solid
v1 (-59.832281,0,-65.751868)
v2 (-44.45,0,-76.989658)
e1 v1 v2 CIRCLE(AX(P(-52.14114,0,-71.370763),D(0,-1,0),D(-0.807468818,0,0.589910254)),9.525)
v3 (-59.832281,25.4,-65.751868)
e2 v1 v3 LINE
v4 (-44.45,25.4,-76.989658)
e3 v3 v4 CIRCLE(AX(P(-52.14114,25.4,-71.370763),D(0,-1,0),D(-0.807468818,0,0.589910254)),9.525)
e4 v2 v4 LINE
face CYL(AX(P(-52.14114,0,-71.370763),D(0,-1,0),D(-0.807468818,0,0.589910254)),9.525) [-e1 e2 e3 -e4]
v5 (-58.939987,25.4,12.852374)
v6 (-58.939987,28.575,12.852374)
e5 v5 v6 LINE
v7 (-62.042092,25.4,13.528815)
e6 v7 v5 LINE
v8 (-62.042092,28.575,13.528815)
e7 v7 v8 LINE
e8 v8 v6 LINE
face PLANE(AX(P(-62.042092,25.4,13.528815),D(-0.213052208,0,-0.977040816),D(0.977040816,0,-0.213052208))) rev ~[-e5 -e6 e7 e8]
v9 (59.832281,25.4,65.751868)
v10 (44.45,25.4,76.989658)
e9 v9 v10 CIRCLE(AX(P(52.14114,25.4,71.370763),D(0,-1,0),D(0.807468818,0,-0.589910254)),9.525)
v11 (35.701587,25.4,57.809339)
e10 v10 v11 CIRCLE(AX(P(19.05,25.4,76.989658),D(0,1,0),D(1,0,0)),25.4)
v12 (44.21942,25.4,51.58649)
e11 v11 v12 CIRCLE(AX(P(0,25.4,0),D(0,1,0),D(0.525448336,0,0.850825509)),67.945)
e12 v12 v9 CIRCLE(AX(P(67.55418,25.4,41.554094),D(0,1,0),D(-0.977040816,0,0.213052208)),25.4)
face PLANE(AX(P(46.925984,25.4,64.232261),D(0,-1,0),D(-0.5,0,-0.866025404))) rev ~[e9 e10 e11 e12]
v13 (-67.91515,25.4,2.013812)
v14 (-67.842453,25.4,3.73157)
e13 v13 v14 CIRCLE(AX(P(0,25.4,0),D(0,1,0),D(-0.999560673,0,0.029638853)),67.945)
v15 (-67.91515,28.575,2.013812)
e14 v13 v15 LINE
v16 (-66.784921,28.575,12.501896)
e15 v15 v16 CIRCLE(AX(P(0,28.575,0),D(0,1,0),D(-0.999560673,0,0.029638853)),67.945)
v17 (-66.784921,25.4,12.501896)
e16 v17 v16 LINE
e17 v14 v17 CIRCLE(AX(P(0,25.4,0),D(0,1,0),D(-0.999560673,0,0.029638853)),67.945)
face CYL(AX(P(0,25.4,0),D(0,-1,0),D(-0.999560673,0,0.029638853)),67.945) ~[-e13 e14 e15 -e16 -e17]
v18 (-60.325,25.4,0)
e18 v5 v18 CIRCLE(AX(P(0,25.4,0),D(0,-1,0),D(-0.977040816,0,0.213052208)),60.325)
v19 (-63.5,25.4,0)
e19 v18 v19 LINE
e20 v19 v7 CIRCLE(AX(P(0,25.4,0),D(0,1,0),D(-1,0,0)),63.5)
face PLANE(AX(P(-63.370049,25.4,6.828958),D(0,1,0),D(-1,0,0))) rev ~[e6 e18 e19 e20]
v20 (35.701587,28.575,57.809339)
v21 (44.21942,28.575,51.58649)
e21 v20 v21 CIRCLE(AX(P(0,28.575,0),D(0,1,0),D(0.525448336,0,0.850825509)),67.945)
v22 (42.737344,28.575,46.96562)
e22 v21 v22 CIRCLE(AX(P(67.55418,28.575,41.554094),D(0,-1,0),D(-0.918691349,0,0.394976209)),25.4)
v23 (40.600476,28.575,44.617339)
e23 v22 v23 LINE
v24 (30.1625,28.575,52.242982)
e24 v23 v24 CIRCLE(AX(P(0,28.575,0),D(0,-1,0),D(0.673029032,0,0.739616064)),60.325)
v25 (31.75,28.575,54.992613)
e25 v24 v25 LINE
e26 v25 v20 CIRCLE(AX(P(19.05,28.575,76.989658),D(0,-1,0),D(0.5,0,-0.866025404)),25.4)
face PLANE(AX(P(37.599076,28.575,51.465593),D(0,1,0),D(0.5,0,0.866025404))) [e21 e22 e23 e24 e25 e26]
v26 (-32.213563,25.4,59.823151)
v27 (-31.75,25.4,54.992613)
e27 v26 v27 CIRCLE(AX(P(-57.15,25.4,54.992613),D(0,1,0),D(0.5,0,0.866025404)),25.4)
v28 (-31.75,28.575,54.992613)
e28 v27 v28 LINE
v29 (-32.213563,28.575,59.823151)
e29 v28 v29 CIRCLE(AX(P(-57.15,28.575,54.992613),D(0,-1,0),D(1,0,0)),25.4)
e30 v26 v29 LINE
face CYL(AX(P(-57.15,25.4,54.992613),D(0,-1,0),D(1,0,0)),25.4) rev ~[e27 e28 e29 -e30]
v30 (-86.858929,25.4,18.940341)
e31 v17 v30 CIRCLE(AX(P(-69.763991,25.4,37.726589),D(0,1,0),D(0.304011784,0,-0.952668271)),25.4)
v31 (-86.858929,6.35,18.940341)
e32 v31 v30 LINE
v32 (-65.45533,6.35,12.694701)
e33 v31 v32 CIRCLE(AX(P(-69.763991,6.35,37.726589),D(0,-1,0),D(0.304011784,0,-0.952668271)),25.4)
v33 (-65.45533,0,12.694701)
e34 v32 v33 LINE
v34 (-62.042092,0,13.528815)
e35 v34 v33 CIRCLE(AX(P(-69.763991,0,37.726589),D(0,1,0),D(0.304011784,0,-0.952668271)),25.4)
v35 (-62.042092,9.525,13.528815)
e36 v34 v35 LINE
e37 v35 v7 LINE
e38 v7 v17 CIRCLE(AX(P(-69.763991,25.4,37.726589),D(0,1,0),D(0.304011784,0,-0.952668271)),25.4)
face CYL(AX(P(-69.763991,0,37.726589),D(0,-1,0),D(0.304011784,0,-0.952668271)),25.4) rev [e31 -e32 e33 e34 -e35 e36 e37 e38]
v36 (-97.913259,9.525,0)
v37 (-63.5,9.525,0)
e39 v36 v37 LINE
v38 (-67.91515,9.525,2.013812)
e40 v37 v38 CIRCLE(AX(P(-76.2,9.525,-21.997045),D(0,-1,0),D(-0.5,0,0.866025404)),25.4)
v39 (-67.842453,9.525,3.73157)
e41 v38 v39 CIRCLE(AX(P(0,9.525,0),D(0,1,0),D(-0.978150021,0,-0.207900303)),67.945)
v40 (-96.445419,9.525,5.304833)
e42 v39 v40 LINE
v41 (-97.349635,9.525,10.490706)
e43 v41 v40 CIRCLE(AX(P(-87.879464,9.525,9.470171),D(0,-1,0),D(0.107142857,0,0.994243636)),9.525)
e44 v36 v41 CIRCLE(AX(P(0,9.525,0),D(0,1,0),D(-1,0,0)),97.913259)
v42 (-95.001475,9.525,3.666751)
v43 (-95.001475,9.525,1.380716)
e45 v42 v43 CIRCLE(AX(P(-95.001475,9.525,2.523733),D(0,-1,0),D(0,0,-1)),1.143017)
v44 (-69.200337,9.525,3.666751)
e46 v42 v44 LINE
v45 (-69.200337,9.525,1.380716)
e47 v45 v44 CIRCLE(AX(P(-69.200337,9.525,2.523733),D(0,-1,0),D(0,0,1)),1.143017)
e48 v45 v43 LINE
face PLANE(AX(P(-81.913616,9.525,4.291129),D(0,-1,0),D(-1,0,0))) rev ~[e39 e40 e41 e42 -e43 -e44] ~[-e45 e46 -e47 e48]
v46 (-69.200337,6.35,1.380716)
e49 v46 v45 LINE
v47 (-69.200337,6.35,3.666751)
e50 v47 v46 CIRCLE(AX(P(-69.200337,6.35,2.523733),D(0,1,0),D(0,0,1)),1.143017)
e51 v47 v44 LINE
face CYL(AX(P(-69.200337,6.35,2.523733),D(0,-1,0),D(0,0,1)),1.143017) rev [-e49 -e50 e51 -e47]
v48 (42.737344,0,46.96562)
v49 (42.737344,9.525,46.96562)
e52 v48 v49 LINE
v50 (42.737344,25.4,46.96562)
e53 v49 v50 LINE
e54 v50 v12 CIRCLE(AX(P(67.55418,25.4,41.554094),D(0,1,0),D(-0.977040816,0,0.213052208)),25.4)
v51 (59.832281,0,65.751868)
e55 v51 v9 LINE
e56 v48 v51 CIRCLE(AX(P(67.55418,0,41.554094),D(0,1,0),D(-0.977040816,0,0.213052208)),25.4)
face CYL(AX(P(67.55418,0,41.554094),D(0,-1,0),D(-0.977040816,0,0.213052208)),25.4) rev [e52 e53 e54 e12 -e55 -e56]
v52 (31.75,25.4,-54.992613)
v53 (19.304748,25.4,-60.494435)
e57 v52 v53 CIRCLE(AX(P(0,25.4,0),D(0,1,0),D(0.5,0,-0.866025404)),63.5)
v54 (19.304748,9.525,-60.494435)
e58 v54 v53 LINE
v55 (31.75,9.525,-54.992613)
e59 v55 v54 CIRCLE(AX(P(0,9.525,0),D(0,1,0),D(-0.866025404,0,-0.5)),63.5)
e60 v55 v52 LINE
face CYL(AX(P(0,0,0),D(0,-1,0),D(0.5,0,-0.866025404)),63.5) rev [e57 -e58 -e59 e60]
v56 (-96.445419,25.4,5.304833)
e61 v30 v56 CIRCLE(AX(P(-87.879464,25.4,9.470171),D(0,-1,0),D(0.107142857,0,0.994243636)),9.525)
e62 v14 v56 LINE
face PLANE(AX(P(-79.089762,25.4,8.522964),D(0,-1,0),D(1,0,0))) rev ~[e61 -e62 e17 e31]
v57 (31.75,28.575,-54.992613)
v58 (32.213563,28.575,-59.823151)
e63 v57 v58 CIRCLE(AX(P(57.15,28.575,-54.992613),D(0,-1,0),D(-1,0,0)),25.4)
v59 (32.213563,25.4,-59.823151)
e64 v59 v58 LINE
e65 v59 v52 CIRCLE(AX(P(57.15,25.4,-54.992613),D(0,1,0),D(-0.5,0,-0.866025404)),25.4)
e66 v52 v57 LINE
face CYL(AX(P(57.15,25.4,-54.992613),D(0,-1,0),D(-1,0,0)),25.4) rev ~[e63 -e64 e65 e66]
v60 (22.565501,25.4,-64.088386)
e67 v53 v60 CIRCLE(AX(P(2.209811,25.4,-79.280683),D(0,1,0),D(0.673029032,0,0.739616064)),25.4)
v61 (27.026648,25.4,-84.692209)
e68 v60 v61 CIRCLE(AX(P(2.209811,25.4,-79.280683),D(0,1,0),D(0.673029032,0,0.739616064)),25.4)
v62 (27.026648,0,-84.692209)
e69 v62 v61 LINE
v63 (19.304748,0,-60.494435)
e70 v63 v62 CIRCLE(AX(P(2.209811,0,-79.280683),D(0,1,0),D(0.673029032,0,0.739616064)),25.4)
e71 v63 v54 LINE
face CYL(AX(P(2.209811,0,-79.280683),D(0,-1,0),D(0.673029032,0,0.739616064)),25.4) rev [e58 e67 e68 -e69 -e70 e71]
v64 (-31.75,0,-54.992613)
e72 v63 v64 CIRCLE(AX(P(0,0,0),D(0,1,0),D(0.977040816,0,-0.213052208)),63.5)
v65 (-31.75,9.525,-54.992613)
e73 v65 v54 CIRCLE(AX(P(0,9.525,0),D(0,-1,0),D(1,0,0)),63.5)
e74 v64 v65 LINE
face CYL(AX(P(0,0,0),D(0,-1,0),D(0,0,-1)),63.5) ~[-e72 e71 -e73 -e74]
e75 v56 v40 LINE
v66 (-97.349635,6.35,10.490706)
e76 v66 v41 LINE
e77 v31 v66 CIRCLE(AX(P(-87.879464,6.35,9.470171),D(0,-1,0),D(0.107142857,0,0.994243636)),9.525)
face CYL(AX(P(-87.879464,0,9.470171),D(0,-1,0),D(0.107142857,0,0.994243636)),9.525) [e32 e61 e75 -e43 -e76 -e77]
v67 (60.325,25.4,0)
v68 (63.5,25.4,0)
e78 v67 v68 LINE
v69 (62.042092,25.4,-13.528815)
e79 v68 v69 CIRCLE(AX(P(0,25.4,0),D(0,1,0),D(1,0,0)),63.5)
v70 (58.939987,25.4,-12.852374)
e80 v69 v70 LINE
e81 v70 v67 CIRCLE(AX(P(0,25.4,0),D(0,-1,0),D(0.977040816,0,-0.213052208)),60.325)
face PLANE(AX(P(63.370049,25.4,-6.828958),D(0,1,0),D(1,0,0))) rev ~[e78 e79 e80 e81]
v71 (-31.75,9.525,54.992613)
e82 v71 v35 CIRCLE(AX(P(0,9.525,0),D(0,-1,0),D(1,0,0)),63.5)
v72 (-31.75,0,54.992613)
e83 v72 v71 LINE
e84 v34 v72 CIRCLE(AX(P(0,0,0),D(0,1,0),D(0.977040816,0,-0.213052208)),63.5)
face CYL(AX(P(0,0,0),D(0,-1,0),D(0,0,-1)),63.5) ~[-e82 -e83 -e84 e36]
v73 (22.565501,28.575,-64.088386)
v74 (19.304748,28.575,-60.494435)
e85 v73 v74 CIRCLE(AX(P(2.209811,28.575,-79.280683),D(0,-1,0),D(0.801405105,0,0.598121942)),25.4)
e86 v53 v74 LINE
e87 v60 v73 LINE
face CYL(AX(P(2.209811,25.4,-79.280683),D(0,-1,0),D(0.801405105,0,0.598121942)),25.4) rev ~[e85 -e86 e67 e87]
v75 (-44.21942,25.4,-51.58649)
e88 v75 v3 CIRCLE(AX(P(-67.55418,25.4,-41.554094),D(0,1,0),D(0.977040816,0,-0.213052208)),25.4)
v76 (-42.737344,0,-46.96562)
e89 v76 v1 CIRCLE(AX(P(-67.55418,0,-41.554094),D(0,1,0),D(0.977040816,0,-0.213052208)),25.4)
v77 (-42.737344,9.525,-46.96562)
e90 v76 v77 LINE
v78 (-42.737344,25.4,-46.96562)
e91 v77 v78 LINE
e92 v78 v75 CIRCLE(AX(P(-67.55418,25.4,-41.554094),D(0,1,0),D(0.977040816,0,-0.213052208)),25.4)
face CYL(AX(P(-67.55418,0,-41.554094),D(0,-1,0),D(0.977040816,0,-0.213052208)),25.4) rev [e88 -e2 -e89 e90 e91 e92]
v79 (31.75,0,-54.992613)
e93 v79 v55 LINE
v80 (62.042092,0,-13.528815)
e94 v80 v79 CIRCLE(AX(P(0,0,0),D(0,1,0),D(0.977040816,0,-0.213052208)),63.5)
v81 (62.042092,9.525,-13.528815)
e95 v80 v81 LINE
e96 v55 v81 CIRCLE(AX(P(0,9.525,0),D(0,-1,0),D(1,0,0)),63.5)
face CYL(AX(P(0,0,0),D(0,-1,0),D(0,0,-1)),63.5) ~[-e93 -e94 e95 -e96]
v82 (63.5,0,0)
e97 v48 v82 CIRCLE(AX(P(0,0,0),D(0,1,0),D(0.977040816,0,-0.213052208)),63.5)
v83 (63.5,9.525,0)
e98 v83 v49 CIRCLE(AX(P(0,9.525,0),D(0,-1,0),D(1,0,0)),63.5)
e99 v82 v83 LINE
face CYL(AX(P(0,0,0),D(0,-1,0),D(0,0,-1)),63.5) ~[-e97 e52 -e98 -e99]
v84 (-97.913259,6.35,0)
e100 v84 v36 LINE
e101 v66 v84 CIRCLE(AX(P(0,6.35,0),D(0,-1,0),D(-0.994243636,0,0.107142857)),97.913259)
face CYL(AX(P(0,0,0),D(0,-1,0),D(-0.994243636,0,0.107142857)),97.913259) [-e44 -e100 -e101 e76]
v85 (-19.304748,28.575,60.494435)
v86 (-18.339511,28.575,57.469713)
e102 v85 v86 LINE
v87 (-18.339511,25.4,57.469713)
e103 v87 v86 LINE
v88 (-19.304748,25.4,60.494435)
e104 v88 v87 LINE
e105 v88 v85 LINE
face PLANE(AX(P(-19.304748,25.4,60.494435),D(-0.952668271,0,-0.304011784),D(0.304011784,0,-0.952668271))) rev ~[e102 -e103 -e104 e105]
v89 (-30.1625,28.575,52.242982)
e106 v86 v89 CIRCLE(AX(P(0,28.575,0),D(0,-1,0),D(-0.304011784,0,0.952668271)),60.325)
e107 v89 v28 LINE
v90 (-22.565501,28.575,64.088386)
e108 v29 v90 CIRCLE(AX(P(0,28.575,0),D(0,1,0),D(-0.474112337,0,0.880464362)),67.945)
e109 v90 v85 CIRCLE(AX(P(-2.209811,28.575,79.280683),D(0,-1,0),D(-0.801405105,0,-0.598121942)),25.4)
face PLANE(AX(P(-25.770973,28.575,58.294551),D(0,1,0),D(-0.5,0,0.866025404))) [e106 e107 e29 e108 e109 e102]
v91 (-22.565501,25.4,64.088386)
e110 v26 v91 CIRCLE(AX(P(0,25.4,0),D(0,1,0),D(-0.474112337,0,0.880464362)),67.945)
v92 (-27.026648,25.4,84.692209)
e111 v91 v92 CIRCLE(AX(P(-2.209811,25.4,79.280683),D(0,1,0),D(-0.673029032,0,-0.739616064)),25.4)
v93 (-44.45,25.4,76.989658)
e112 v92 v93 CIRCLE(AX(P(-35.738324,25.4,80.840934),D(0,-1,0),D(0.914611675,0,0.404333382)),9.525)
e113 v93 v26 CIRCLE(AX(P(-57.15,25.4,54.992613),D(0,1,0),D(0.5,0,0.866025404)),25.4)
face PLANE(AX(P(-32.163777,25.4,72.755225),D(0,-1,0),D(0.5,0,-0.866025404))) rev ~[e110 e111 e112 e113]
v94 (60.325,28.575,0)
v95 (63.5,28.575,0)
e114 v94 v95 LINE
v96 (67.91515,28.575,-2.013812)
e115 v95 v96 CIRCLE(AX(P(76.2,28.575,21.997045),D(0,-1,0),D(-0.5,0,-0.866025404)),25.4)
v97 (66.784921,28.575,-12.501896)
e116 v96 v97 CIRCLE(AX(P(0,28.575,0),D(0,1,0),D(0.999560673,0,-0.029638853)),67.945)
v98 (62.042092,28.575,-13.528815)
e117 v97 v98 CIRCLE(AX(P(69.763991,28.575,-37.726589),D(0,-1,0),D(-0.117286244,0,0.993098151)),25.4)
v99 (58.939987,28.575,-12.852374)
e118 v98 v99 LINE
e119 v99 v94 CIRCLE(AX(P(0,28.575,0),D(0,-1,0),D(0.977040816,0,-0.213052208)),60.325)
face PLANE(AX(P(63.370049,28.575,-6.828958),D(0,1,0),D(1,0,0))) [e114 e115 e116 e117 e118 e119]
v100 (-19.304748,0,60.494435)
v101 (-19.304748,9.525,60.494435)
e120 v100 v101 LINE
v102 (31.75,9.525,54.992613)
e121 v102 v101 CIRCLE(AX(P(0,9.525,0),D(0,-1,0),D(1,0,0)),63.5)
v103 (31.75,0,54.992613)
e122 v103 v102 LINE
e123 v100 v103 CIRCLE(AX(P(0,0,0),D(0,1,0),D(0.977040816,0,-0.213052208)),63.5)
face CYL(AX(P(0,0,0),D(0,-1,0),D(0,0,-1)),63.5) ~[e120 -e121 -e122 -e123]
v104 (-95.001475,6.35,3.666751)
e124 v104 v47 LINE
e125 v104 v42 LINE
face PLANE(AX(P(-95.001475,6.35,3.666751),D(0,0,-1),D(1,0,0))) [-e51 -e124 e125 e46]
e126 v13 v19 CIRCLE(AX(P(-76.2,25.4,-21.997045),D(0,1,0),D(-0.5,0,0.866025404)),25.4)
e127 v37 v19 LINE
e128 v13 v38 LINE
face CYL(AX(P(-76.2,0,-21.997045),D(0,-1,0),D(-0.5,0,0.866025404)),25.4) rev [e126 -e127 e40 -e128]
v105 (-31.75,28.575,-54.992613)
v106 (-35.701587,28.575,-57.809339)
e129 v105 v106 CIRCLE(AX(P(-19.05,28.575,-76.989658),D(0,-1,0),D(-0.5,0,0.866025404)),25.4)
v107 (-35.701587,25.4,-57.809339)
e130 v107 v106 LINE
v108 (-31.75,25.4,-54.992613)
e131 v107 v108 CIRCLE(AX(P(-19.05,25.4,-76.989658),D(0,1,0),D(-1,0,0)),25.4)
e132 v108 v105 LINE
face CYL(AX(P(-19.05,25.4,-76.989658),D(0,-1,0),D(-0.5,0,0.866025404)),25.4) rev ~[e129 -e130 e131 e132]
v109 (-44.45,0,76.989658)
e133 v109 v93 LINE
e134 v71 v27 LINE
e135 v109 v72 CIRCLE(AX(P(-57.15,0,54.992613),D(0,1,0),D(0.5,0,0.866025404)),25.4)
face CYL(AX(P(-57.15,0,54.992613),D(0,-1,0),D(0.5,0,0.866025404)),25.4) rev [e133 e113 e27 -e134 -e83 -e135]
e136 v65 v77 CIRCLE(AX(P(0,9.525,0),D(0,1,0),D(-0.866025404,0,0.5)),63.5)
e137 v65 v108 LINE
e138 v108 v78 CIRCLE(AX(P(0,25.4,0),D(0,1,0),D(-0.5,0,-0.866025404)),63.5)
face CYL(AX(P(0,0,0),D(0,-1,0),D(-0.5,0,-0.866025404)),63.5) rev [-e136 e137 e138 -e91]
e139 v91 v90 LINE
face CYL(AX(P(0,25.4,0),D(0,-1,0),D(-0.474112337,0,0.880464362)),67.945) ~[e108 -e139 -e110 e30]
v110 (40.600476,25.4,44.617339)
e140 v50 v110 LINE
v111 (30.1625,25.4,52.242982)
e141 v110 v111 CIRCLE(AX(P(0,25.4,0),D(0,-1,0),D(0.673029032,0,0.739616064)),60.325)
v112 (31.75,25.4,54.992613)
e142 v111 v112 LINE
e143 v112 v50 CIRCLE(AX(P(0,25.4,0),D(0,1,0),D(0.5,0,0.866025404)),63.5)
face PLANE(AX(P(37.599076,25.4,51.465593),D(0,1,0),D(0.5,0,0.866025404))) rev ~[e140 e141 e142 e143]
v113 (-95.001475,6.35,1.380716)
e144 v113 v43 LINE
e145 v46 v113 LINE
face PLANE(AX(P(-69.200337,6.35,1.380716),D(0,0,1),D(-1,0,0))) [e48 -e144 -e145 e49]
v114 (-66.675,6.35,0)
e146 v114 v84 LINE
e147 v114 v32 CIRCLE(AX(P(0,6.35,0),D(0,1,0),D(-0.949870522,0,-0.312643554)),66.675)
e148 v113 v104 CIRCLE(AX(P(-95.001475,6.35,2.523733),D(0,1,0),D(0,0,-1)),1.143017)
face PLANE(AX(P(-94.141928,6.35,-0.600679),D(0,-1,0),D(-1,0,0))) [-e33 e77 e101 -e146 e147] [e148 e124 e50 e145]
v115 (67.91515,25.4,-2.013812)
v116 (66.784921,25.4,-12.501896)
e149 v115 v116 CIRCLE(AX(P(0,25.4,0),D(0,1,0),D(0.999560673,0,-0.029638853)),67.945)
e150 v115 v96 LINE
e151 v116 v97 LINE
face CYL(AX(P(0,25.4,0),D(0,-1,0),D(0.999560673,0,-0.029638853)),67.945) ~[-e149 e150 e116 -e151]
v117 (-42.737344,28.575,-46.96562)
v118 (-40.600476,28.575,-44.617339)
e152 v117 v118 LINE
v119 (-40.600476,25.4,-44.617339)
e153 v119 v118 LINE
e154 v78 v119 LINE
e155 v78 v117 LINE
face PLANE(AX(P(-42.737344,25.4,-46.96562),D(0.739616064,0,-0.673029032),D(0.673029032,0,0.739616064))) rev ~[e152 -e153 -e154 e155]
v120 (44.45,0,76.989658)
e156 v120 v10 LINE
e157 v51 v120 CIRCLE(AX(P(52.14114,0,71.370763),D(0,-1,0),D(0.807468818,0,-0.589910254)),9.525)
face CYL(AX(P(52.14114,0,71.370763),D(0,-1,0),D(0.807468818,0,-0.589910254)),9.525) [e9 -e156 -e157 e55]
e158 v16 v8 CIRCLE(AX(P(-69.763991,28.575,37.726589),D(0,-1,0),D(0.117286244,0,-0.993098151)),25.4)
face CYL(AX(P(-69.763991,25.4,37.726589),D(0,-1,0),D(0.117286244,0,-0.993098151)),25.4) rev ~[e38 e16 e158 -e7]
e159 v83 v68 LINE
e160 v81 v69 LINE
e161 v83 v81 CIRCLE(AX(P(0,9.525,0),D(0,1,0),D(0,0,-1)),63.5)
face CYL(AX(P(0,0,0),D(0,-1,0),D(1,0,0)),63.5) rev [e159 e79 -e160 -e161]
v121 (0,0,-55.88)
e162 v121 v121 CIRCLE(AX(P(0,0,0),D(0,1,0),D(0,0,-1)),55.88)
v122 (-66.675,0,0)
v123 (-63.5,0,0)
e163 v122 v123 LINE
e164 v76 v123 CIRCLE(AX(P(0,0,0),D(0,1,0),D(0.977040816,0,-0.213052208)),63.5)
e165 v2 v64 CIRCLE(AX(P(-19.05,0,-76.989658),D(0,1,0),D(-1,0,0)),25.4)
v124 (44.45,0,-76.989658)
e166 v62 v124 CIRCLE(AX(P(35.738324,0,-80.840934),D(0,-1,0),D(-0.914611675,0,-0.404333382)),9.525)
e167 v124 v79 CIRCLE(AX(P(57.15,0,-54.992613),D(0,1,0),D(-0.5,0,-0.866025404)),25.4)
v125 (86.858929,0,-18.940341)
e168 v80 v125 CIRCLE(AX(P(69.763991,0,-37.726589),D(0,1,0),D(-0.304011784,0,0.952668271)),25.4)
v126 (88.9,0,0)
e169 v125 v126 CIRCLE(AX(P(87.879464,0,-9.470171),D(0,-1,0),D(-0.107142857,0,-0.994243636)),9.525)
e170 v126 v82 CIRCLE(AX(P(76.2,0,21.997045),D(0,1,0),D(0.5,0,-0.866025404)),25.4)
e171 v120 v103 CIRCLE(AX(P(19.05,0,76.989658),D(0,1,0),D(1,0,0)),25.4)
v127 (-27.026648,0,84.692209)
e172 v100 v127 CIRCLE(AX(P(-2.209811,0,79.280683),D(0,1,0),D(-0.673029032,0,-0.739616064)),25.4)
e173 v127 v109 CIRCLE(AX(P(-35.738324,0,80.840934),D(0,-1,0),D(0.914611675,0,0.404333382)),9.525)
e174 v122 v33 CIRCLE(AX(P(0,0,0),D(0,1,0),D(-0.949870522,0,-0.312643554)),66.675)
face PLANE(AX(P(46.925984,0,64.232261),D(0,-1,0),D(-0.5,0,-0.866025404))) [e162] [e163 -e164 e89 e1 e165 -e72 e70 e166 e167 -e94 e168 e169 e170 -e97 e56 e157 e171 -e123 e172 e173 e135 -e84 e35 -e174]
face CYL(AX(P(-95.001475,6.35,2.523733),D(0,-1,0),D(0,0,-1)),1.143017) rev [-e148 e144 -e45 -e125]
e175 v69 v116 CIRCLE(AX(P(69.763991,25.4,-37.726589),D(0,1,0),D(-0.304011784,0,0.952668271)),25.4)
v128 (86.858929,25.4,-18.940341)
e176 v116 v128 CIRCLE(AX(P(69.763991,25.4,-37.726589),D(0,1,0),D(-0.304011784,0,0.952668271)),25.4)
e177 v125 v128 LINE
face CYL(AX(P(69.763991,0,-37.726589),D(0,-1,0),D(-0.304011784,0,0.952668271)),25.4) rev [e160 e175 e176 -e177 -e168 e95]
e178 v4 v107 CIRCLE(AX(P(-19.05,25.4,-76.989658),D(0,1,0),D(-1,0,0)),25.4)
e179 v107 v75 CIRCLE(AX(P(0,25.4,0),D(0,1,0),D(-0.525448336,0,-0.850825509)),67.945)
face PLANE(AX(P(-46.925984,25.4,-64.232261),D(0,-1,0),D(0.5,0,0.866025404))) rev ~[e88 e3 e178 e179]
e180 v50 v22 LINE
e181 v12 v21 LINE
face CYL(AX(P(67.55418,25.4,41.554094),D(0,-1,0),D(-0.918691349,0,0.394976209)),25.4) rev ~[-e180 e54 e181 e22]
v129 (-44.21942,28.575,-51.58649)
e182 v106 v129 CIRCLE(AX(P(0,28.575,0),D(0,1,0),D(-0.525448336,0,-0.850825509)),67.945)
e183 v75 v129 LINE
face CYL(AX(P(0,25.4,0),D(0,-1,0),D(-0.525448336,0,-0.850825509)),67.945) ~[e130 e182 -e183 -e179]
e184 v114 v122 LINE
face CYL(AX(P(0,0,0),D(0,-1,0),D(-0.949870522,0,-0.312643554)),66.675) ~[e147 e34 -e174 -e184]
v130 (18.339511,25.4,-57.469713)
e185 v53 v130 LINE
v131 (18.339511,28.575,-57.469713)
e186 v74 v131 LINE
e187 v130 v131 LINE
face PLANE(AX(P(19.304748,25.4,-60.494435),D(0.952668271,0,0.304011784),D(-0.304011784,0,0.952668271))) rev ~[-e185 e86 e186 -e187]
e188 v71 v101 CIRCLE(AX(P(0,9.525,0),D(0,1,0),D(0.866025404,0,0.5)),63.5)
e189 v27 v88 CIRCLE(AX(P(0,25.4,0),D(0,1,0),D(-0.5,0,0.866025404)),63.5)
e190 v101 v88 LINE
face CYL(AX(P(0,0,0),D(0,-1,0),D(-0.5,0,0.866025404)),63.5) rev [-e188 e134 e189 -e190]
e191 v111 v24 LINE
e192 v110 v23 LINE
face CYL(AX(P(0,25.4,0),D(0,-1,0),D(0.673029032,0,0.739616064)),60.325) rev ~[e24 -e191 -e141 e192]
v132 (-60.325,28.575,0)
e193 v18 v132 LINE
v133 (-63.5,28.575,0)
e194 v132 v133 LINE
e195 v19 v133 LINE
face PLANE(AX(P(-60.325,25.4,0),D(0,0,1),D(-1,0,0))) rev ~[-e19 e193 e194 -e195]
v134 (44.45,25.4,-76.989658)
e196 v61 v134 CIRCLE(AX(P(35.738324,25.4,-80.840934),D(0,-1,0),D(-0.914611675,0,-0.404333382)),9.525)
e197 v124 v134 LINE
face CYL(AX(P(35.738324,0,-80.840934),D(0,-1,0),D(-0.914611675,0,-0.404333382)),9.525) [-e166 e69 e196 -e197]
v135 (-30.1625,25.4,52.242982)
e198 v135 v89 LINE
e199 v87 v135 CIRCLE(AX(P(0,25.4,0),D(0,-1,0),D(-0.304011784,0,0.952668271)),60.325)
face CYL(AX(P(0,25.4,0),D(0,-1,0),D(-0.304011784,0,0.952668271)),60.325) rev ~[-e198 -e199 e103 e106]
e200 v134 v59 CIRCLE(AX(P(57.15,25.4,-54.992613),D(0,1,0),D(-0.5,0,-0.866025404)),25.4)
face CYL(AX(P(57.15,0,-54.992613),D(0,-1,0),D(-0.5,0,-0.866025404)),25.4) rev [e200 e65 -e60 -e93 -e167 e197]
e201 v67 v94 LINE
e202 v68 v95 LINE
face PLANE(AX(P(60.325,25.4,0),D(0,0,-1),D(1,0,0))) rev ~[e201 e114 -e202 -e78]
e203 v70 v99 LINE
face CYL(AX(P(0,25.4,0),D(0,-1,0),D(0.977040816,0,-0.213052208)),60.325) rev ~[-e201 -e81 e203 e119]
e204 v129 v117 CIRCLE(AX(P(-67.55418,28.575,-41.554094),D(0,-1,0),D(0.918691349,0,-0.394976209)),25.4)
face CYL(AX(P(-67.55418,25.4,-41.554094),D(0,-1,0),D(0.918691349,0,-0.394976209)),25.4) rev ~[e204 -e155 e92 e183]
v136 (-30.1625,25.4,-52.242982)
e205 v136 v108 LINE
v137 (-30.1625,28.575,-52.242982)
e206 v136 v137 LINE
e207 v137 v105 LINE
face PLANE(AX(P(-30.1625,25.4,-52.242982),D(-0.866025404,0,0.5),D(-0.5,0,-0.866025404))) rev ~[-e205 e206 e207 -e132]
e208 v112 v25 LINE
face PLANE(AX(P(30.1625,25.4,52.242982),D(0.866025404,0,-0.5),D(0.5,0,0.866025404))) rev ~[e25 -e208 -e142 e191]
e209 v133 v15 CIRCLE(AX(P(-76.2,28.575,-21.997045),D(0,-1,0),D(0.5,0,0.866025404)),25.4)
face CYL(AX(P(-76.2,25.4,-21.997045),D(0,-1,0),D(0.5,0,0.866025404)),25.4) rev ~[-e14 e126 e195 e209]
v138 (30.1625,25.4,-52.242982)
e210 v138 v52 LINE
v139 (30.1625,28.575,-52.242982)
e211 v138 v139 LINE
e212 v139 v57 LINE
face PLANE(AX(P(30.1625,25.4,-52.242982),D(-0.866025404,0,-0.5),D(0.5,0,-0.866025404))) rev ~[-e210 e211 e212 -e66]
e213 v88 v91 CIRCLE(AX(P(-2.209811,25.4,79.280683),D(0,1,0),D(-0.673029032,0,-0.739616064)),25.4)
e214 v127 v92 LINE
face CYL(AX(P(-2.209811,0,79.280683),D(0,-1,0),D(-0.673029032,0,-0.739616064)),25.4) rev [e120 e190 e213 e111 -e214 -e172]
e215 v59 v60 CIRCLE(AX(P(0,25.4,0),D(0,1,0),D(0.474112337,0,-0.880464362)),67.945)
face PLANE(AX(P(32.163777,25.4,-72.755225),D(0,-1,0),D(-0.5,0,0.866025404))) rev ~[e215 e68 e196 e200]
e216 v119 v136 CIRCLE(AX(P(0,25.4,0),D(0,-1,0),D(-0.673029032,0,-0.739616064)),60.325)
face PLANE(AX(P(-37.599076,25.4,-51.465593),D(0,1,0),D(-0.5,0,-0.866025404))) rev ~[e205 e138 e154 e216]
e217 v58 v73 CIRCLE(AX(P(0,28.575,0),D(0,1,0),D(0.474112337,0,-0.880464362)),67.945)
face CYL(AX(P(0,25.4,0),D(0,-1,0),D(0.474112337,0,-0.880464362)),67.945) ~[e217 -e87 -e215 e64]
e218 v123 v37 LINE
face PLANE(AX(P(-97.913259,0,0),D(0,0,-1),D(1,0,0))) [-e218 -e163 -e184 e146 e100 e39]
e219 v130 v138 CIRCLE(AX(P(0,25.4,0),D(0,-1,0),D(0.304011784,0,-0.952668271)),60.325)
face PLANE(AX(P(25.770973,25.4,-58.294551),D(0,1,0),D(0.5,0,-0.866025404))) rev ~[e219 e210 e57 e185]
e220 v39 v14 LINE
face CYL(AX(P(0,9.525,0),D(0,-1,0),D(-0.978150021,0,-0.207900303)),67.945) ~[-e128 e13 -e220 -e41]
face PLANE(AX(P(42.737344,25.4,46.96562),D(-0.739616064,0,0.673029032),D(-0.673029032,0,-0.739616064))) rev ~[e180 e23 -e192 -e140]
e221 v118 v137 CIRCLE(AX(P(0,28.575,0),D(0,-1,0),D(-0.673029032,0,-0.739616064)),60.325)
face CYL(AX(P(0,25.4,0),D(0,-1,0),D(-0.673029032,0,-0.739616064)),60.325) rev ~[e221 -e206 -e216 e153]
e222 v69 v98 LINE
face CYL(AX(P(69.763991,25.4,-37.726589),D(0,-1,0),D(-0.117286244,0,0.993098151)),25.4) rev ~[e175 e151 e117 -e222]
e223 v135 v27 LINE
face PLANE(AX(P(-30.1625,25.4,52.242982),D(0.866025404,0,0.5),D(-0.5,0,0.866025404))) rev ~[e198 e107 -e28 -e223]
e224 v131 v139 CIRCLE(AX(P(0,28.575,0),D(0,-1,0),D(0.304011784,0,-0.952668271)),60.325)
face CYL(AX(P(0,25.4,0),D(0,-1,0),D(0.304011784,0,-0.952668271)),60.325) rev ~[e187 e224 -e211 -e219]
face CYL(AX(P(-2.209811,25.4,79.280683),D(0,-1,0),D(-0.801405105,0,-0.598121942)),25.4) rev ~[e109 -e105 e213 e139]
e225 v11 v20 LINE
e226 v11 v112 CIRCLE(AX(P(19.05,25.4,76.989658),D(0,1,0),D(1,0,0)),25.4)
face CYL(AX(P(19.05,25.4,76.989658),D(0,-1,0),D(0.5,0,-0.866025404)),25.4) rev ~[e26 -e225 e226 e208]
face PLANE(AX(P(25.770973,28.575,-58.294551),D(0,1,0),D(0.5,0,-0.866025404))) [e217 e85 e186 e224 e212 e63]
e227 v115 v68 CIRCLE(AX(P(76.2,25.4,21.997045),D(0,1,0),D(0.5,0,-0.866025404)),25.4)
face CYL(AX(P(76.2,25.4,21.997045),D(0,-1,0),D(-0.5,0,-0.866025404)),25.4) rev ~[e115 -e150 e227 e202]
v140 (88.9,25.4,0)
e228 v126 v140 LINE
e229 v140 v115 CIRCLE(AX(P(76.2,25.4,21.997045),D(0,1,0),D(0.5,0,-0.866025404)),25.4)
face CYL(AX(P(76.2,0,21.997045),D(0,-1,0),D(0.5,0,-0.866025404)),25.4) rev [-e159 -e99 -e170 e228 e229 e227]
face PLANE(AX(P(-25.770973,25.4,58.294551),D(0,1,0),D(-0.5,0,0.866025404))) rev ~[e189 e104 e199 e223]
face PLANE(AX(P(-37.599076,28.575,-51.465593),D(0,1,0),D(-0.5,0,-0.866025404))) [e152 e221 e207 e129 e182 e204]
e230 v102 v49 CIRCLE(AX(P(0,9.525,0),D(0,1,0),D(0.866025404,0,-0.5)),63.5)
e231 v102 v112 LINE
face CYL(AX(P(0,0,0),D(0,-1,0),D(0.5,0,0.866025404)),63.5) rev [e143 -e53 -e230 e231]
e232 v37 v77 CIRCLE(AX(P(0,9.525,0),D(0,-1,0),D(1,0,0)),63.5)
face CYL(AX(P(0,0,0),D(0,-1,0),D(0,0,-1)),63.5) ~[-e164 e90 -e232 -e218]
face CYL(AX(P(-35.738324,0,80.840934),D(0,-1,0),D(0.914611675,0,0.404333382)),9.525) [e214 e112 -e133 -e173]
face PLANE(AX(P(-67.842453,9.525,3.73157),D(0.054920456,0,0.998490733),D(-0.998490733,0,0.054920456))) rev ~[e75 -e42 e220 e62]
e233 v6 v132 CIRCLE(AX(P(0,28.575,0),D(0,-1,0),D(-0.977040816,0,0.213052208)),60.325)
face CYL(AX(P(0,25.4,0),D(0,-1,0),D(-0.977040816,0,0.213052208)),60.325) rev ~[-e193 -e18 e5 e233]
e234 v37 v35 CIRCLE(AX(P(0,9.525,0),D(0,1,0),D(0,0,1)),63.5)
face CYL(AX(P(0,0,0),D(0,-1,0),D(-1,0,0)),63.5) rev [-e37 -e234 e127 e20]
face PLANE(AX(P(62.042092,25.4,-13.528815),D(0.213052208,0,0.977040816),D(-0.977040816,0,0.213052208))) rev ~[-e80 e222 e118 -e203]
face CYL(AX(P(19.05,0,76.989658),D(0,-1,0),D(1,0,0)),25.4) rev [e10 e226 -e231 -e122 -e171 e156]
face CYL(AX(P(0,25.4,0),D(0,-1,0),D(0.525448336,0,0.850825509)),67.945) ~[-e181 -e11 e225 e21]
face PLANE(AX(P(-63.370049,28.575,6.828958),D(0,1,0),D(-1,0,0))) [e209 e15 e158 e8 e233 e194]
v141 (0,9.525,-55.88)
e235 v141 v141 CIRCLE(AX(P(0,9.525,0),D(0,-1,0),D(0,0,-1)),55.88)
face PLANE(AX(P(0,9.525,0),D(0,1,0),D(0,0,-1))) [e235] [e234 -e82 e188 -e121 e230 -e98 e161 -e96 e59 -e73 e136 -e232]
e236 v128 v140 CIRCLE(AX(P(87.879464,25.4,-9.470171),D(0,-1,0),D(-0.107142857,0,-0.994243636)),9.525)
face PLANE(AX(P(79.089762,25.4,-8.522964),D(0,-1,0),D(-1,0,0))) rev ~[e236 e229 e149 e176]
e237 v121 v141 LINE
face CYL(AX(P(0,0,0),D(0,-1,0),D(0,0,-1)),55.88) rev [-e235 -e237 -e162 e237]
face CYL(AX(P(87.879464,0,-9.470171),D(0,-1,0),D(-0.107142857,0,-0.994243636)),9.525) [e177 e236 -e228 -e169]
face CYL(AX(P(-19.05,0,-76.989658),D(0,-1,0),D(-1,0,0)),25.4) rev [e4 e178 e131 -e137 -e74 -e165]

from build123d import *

# Parameters (mm, degrees)
SKETCH1_R                = 63.5
SKETCH1_R_2              = 55.88
BOSS_EXTRUDE1_DEPTH      = 9.525
BOSS_EXTRUDE2_DEPTH      = 15.875
BOSS_EXTRUDE2_DEPTH_BACK = 9.525
BOSS_EXTRUDE3_DEPTH      = 3.175
CIRPATTERN1_COUNT        = 6
BOSS_EXTRUDE7_DEPTH      = 9.525
CUT_EXTRUDE5_DEPTH       = 6.35
CUT_EXTRUDE8_START       = -15.875
CUT_EXTRUDE8_DEPTH       = 15.875
CUT_EXTRUDE10_DEPTH      = 10.414


with BuildPart() as part:
    # Sketch1 → Boss-Extrude1 (new body)
    with BuildSketch(Plane(origin=(0, 0, 0), x_dir=(1, 0, 0), z_dir=(0, 1, 0))):
        with Locations(Location((0, 0, 0), (0, 0, 90))):
            Circle(SKETCH1_R)
        with Locations(Location((0, 0, 0), (0, 0, 90))):
            Circle(SKETCH1_R_2, mode=Mode.SUBTRACT)
    extrude(amount=BOSS_EXTRUDE1_DEPTH)

    # Sketch2 → Boss-Extrude2 (add, two sides: drawn at the far end of the back side and taken through both)
    with BuildSketch(Plane(origin=(0, 9.525, 0), x_dir=(1, 0, 0), z_dir=(0, 1, 0)).offset(-BOSS_EXTRUDE2_DEPTH_BACK)):
        with BuildLine():
            ThreePointArc((62.042091837, 13.528815193), (75.175517225, 12.909752551), (86.858928571, 18.94034127))
            ThreePointArc((86.858928571, 18.94034127), (97.349634921, 10.490706349), (88.9, 0))
            ThreePointArc((88.9, 0), (76.2, 3.402954744), (63.5, 0))
            ThreePointArc((63.5, 0), (63.1344709, 6.803571429), (62.042091837, 13.528815193))
        make_face()
    extrude(amount=BOSS_EXTRUDE2_DEPTH + BOSS_EXTRUDE2_DEPTH_BACK)

    # Sketch3 → Boss-Extrude3 (add)
    with BuildSketch(Plane(origin=(0, 25.4, 0), x_dir=(1, 0, 0), z_dir=(0, 1, 0))):
        with BuildLine():
            Line((60.325, 0), (63.5, 0))
            ThreePointArc((63.5, 0), (65.659371798, 1.11258817), (67.915149907, 2.013811849))
            ThreePointArc((67.915149907, 2.013811849), (67.553883863, 7.279821429), (66.784920566, 12.501896255))
            ThreePointArc((66.784920566, 12.501896255), (64.388925587, 12.901830068), (62.042091837, 13.528815193))
            Line((62.042091837, 13.528815193), (58.939987245, 12.852374433))
            ThreePointArc((58.939987245, 12.852374433), (59.977747355, 6.463392857), (60.325, 0))
        make_face()
    extrude(amount=BOSS_EXTRUDE3_DEPTH)


with BuildPart() as cirpattern1_1:
    # CirPattern1: pattern copy
    add(part.part.rotate(Axis((0, 0, 0), (0, 1, 0)), 1 * 360 / CIRPATTERN1_COUNT))


with BuildPart() as cirpattern1_2:
    # CirPattern1: pattern copy
    add(part.part.rotate(Axis((0, 0, 0), (0, 1, 0)), 2 * 360 / CIRPATTERN1_COUNT))


with BuildPart() as cirpattern1_3:
    # CirPattern1: pattern copy
    add(part.part.rotate(Axis((0, 0, 0), (0, 1, 0)), 3 * 360 / CIRPATTERN1_COUNT))


with BuildPart() as cirpattern1_4:
    # CirPattern1: pattern copy
    add(part.part.rotate(Axis((0, 0, 0), (0, 1, 0)), 4 * 360 / CIRPATTERN1_COUNT))


with BuildPart() as cirpattern1_5:
    # CirPattern1: pattern copy
    add(part.part.rotate(Axis((0, 0, 0), (0, 1, 0)), 5 * 360 / CIRPATTERN1_COUNT))


with BuildPart() as part_1:
    add(part.part)

    add(cirpattern1_1.part)  # Boss-Extrude7 merges CirPattern1_1

    add(cirpattern1_2.part)  # Boss-Extrude7 merges CirPattern1_2

    add(cirpattern1_3.part)  # Boss-Extrude7 merges CirPattern1_3

    add(cirpattern1_4.part)  # Boss-Extrude7 merges CirPattern1_4

    add(cirpattern1_5.part)  # Boss-Extrude7 merges CirPattern1_5
    # Sketch7 → Boss-Extrude7 (add)
    with BuildSketch(Plane(origin=(0, 0, 0), x_dir=(-1, 0, 0), z_dir=(0, -1, 0))):
        with BuildLine():
            Line((63.5, 0), (67.569096786, -7.577162194))
            Line((67.569096786, -7.577162194), (97.349634921, -10.490706349))
            ThreePointArc((97.349634921, -10.490706349), (97.772251641, -5.252918049), (97.91325926, 0))
            Line((97.91325926, 0), (88.9, 0))
            Line((88.9, 0), (63.5, 0))
        make_face()
    extrude(amount=-BOSS_EXTRUDE7_DEPTH)

    # Sketch9 → Cut-Extrude5 (cut)
    with BuildSketch(Plane(origin=(0, 0, 0), x_dir=(-1, 0, 0), z_dir=(0, -1, 0))):
        with BuildLine():
            Line((61.39651055, -26.00046379), (106.955649778, -39.531378336))
            Line((106.955649778, -39.531378336), (132.962005417, 11.016778764))
            Line((132.962005417, 11.016778764), (94.714323946, 43.842731985))
            Line((94.714323946, 43.842731985), (63.332617029, 20.845508994))
            ThreePointArc((63.332617029, 20.845508994), (66.618128975, -2.753273836), (61.39651055, -26.00046379))
        make_face()
    extrude(amount=-CUT_EXTRUDE5_DEPTH, mode=Mode.SUBTRACT)

    # Sketch11 → Cut-Extrude8 (cut)
    with BuildSketch(Plane(origin=(0, 25.4, 0), x_dir=(1, 0, 0), z_dir=(0, 1, 0)).offset(CUT_EXTRUDE8_START)):
        with BuildLine():
            Line((-67.842452842, -3.731570369), (-122.840055189, -6.75662938))
            Line((-122.840055189, -6.75662938), (-98.142005423, 22.287709704))
            Line((-98.142005423, 22.287709704), (-66.460403185, 14.125786119))
            ThreePointArc((-66.460403185, 14.125786119), (-67.742420826, 5.242847087), (-67.842452842, -3.731570369))
        make_face()
    extrude(amount=CUT_EXTRUDE8_DEPTH, mode=Mode.SUBTRACT)

    # Sketch12 → Cut-Extrude10 (cut)
    with BuildSketch(Plane.XZ.offset(-6.35)):
        with BuildLine():
            Line((-69.200337384, 1.380715925), (-95.001475013, 1.380715925))
            ThreePointArc((-95.001475013, 1.380715925), (-96.144492419, 2.523733331), (-95.001475013, 3.666750736))
            Line((-95.001475013, 3.666750736), (-69.200337384, 3.666750736))
            ThreePointArc((-69.200337384, 3.666750736), (-68.057319979, 2.523733331), (-69.200337384, 1.380715925))
        make_face()
    extrude(amount=-CUT_EXTRUDE10_DEPTH, mode=Mode.SUBTRACT)


solid = part_1.part
